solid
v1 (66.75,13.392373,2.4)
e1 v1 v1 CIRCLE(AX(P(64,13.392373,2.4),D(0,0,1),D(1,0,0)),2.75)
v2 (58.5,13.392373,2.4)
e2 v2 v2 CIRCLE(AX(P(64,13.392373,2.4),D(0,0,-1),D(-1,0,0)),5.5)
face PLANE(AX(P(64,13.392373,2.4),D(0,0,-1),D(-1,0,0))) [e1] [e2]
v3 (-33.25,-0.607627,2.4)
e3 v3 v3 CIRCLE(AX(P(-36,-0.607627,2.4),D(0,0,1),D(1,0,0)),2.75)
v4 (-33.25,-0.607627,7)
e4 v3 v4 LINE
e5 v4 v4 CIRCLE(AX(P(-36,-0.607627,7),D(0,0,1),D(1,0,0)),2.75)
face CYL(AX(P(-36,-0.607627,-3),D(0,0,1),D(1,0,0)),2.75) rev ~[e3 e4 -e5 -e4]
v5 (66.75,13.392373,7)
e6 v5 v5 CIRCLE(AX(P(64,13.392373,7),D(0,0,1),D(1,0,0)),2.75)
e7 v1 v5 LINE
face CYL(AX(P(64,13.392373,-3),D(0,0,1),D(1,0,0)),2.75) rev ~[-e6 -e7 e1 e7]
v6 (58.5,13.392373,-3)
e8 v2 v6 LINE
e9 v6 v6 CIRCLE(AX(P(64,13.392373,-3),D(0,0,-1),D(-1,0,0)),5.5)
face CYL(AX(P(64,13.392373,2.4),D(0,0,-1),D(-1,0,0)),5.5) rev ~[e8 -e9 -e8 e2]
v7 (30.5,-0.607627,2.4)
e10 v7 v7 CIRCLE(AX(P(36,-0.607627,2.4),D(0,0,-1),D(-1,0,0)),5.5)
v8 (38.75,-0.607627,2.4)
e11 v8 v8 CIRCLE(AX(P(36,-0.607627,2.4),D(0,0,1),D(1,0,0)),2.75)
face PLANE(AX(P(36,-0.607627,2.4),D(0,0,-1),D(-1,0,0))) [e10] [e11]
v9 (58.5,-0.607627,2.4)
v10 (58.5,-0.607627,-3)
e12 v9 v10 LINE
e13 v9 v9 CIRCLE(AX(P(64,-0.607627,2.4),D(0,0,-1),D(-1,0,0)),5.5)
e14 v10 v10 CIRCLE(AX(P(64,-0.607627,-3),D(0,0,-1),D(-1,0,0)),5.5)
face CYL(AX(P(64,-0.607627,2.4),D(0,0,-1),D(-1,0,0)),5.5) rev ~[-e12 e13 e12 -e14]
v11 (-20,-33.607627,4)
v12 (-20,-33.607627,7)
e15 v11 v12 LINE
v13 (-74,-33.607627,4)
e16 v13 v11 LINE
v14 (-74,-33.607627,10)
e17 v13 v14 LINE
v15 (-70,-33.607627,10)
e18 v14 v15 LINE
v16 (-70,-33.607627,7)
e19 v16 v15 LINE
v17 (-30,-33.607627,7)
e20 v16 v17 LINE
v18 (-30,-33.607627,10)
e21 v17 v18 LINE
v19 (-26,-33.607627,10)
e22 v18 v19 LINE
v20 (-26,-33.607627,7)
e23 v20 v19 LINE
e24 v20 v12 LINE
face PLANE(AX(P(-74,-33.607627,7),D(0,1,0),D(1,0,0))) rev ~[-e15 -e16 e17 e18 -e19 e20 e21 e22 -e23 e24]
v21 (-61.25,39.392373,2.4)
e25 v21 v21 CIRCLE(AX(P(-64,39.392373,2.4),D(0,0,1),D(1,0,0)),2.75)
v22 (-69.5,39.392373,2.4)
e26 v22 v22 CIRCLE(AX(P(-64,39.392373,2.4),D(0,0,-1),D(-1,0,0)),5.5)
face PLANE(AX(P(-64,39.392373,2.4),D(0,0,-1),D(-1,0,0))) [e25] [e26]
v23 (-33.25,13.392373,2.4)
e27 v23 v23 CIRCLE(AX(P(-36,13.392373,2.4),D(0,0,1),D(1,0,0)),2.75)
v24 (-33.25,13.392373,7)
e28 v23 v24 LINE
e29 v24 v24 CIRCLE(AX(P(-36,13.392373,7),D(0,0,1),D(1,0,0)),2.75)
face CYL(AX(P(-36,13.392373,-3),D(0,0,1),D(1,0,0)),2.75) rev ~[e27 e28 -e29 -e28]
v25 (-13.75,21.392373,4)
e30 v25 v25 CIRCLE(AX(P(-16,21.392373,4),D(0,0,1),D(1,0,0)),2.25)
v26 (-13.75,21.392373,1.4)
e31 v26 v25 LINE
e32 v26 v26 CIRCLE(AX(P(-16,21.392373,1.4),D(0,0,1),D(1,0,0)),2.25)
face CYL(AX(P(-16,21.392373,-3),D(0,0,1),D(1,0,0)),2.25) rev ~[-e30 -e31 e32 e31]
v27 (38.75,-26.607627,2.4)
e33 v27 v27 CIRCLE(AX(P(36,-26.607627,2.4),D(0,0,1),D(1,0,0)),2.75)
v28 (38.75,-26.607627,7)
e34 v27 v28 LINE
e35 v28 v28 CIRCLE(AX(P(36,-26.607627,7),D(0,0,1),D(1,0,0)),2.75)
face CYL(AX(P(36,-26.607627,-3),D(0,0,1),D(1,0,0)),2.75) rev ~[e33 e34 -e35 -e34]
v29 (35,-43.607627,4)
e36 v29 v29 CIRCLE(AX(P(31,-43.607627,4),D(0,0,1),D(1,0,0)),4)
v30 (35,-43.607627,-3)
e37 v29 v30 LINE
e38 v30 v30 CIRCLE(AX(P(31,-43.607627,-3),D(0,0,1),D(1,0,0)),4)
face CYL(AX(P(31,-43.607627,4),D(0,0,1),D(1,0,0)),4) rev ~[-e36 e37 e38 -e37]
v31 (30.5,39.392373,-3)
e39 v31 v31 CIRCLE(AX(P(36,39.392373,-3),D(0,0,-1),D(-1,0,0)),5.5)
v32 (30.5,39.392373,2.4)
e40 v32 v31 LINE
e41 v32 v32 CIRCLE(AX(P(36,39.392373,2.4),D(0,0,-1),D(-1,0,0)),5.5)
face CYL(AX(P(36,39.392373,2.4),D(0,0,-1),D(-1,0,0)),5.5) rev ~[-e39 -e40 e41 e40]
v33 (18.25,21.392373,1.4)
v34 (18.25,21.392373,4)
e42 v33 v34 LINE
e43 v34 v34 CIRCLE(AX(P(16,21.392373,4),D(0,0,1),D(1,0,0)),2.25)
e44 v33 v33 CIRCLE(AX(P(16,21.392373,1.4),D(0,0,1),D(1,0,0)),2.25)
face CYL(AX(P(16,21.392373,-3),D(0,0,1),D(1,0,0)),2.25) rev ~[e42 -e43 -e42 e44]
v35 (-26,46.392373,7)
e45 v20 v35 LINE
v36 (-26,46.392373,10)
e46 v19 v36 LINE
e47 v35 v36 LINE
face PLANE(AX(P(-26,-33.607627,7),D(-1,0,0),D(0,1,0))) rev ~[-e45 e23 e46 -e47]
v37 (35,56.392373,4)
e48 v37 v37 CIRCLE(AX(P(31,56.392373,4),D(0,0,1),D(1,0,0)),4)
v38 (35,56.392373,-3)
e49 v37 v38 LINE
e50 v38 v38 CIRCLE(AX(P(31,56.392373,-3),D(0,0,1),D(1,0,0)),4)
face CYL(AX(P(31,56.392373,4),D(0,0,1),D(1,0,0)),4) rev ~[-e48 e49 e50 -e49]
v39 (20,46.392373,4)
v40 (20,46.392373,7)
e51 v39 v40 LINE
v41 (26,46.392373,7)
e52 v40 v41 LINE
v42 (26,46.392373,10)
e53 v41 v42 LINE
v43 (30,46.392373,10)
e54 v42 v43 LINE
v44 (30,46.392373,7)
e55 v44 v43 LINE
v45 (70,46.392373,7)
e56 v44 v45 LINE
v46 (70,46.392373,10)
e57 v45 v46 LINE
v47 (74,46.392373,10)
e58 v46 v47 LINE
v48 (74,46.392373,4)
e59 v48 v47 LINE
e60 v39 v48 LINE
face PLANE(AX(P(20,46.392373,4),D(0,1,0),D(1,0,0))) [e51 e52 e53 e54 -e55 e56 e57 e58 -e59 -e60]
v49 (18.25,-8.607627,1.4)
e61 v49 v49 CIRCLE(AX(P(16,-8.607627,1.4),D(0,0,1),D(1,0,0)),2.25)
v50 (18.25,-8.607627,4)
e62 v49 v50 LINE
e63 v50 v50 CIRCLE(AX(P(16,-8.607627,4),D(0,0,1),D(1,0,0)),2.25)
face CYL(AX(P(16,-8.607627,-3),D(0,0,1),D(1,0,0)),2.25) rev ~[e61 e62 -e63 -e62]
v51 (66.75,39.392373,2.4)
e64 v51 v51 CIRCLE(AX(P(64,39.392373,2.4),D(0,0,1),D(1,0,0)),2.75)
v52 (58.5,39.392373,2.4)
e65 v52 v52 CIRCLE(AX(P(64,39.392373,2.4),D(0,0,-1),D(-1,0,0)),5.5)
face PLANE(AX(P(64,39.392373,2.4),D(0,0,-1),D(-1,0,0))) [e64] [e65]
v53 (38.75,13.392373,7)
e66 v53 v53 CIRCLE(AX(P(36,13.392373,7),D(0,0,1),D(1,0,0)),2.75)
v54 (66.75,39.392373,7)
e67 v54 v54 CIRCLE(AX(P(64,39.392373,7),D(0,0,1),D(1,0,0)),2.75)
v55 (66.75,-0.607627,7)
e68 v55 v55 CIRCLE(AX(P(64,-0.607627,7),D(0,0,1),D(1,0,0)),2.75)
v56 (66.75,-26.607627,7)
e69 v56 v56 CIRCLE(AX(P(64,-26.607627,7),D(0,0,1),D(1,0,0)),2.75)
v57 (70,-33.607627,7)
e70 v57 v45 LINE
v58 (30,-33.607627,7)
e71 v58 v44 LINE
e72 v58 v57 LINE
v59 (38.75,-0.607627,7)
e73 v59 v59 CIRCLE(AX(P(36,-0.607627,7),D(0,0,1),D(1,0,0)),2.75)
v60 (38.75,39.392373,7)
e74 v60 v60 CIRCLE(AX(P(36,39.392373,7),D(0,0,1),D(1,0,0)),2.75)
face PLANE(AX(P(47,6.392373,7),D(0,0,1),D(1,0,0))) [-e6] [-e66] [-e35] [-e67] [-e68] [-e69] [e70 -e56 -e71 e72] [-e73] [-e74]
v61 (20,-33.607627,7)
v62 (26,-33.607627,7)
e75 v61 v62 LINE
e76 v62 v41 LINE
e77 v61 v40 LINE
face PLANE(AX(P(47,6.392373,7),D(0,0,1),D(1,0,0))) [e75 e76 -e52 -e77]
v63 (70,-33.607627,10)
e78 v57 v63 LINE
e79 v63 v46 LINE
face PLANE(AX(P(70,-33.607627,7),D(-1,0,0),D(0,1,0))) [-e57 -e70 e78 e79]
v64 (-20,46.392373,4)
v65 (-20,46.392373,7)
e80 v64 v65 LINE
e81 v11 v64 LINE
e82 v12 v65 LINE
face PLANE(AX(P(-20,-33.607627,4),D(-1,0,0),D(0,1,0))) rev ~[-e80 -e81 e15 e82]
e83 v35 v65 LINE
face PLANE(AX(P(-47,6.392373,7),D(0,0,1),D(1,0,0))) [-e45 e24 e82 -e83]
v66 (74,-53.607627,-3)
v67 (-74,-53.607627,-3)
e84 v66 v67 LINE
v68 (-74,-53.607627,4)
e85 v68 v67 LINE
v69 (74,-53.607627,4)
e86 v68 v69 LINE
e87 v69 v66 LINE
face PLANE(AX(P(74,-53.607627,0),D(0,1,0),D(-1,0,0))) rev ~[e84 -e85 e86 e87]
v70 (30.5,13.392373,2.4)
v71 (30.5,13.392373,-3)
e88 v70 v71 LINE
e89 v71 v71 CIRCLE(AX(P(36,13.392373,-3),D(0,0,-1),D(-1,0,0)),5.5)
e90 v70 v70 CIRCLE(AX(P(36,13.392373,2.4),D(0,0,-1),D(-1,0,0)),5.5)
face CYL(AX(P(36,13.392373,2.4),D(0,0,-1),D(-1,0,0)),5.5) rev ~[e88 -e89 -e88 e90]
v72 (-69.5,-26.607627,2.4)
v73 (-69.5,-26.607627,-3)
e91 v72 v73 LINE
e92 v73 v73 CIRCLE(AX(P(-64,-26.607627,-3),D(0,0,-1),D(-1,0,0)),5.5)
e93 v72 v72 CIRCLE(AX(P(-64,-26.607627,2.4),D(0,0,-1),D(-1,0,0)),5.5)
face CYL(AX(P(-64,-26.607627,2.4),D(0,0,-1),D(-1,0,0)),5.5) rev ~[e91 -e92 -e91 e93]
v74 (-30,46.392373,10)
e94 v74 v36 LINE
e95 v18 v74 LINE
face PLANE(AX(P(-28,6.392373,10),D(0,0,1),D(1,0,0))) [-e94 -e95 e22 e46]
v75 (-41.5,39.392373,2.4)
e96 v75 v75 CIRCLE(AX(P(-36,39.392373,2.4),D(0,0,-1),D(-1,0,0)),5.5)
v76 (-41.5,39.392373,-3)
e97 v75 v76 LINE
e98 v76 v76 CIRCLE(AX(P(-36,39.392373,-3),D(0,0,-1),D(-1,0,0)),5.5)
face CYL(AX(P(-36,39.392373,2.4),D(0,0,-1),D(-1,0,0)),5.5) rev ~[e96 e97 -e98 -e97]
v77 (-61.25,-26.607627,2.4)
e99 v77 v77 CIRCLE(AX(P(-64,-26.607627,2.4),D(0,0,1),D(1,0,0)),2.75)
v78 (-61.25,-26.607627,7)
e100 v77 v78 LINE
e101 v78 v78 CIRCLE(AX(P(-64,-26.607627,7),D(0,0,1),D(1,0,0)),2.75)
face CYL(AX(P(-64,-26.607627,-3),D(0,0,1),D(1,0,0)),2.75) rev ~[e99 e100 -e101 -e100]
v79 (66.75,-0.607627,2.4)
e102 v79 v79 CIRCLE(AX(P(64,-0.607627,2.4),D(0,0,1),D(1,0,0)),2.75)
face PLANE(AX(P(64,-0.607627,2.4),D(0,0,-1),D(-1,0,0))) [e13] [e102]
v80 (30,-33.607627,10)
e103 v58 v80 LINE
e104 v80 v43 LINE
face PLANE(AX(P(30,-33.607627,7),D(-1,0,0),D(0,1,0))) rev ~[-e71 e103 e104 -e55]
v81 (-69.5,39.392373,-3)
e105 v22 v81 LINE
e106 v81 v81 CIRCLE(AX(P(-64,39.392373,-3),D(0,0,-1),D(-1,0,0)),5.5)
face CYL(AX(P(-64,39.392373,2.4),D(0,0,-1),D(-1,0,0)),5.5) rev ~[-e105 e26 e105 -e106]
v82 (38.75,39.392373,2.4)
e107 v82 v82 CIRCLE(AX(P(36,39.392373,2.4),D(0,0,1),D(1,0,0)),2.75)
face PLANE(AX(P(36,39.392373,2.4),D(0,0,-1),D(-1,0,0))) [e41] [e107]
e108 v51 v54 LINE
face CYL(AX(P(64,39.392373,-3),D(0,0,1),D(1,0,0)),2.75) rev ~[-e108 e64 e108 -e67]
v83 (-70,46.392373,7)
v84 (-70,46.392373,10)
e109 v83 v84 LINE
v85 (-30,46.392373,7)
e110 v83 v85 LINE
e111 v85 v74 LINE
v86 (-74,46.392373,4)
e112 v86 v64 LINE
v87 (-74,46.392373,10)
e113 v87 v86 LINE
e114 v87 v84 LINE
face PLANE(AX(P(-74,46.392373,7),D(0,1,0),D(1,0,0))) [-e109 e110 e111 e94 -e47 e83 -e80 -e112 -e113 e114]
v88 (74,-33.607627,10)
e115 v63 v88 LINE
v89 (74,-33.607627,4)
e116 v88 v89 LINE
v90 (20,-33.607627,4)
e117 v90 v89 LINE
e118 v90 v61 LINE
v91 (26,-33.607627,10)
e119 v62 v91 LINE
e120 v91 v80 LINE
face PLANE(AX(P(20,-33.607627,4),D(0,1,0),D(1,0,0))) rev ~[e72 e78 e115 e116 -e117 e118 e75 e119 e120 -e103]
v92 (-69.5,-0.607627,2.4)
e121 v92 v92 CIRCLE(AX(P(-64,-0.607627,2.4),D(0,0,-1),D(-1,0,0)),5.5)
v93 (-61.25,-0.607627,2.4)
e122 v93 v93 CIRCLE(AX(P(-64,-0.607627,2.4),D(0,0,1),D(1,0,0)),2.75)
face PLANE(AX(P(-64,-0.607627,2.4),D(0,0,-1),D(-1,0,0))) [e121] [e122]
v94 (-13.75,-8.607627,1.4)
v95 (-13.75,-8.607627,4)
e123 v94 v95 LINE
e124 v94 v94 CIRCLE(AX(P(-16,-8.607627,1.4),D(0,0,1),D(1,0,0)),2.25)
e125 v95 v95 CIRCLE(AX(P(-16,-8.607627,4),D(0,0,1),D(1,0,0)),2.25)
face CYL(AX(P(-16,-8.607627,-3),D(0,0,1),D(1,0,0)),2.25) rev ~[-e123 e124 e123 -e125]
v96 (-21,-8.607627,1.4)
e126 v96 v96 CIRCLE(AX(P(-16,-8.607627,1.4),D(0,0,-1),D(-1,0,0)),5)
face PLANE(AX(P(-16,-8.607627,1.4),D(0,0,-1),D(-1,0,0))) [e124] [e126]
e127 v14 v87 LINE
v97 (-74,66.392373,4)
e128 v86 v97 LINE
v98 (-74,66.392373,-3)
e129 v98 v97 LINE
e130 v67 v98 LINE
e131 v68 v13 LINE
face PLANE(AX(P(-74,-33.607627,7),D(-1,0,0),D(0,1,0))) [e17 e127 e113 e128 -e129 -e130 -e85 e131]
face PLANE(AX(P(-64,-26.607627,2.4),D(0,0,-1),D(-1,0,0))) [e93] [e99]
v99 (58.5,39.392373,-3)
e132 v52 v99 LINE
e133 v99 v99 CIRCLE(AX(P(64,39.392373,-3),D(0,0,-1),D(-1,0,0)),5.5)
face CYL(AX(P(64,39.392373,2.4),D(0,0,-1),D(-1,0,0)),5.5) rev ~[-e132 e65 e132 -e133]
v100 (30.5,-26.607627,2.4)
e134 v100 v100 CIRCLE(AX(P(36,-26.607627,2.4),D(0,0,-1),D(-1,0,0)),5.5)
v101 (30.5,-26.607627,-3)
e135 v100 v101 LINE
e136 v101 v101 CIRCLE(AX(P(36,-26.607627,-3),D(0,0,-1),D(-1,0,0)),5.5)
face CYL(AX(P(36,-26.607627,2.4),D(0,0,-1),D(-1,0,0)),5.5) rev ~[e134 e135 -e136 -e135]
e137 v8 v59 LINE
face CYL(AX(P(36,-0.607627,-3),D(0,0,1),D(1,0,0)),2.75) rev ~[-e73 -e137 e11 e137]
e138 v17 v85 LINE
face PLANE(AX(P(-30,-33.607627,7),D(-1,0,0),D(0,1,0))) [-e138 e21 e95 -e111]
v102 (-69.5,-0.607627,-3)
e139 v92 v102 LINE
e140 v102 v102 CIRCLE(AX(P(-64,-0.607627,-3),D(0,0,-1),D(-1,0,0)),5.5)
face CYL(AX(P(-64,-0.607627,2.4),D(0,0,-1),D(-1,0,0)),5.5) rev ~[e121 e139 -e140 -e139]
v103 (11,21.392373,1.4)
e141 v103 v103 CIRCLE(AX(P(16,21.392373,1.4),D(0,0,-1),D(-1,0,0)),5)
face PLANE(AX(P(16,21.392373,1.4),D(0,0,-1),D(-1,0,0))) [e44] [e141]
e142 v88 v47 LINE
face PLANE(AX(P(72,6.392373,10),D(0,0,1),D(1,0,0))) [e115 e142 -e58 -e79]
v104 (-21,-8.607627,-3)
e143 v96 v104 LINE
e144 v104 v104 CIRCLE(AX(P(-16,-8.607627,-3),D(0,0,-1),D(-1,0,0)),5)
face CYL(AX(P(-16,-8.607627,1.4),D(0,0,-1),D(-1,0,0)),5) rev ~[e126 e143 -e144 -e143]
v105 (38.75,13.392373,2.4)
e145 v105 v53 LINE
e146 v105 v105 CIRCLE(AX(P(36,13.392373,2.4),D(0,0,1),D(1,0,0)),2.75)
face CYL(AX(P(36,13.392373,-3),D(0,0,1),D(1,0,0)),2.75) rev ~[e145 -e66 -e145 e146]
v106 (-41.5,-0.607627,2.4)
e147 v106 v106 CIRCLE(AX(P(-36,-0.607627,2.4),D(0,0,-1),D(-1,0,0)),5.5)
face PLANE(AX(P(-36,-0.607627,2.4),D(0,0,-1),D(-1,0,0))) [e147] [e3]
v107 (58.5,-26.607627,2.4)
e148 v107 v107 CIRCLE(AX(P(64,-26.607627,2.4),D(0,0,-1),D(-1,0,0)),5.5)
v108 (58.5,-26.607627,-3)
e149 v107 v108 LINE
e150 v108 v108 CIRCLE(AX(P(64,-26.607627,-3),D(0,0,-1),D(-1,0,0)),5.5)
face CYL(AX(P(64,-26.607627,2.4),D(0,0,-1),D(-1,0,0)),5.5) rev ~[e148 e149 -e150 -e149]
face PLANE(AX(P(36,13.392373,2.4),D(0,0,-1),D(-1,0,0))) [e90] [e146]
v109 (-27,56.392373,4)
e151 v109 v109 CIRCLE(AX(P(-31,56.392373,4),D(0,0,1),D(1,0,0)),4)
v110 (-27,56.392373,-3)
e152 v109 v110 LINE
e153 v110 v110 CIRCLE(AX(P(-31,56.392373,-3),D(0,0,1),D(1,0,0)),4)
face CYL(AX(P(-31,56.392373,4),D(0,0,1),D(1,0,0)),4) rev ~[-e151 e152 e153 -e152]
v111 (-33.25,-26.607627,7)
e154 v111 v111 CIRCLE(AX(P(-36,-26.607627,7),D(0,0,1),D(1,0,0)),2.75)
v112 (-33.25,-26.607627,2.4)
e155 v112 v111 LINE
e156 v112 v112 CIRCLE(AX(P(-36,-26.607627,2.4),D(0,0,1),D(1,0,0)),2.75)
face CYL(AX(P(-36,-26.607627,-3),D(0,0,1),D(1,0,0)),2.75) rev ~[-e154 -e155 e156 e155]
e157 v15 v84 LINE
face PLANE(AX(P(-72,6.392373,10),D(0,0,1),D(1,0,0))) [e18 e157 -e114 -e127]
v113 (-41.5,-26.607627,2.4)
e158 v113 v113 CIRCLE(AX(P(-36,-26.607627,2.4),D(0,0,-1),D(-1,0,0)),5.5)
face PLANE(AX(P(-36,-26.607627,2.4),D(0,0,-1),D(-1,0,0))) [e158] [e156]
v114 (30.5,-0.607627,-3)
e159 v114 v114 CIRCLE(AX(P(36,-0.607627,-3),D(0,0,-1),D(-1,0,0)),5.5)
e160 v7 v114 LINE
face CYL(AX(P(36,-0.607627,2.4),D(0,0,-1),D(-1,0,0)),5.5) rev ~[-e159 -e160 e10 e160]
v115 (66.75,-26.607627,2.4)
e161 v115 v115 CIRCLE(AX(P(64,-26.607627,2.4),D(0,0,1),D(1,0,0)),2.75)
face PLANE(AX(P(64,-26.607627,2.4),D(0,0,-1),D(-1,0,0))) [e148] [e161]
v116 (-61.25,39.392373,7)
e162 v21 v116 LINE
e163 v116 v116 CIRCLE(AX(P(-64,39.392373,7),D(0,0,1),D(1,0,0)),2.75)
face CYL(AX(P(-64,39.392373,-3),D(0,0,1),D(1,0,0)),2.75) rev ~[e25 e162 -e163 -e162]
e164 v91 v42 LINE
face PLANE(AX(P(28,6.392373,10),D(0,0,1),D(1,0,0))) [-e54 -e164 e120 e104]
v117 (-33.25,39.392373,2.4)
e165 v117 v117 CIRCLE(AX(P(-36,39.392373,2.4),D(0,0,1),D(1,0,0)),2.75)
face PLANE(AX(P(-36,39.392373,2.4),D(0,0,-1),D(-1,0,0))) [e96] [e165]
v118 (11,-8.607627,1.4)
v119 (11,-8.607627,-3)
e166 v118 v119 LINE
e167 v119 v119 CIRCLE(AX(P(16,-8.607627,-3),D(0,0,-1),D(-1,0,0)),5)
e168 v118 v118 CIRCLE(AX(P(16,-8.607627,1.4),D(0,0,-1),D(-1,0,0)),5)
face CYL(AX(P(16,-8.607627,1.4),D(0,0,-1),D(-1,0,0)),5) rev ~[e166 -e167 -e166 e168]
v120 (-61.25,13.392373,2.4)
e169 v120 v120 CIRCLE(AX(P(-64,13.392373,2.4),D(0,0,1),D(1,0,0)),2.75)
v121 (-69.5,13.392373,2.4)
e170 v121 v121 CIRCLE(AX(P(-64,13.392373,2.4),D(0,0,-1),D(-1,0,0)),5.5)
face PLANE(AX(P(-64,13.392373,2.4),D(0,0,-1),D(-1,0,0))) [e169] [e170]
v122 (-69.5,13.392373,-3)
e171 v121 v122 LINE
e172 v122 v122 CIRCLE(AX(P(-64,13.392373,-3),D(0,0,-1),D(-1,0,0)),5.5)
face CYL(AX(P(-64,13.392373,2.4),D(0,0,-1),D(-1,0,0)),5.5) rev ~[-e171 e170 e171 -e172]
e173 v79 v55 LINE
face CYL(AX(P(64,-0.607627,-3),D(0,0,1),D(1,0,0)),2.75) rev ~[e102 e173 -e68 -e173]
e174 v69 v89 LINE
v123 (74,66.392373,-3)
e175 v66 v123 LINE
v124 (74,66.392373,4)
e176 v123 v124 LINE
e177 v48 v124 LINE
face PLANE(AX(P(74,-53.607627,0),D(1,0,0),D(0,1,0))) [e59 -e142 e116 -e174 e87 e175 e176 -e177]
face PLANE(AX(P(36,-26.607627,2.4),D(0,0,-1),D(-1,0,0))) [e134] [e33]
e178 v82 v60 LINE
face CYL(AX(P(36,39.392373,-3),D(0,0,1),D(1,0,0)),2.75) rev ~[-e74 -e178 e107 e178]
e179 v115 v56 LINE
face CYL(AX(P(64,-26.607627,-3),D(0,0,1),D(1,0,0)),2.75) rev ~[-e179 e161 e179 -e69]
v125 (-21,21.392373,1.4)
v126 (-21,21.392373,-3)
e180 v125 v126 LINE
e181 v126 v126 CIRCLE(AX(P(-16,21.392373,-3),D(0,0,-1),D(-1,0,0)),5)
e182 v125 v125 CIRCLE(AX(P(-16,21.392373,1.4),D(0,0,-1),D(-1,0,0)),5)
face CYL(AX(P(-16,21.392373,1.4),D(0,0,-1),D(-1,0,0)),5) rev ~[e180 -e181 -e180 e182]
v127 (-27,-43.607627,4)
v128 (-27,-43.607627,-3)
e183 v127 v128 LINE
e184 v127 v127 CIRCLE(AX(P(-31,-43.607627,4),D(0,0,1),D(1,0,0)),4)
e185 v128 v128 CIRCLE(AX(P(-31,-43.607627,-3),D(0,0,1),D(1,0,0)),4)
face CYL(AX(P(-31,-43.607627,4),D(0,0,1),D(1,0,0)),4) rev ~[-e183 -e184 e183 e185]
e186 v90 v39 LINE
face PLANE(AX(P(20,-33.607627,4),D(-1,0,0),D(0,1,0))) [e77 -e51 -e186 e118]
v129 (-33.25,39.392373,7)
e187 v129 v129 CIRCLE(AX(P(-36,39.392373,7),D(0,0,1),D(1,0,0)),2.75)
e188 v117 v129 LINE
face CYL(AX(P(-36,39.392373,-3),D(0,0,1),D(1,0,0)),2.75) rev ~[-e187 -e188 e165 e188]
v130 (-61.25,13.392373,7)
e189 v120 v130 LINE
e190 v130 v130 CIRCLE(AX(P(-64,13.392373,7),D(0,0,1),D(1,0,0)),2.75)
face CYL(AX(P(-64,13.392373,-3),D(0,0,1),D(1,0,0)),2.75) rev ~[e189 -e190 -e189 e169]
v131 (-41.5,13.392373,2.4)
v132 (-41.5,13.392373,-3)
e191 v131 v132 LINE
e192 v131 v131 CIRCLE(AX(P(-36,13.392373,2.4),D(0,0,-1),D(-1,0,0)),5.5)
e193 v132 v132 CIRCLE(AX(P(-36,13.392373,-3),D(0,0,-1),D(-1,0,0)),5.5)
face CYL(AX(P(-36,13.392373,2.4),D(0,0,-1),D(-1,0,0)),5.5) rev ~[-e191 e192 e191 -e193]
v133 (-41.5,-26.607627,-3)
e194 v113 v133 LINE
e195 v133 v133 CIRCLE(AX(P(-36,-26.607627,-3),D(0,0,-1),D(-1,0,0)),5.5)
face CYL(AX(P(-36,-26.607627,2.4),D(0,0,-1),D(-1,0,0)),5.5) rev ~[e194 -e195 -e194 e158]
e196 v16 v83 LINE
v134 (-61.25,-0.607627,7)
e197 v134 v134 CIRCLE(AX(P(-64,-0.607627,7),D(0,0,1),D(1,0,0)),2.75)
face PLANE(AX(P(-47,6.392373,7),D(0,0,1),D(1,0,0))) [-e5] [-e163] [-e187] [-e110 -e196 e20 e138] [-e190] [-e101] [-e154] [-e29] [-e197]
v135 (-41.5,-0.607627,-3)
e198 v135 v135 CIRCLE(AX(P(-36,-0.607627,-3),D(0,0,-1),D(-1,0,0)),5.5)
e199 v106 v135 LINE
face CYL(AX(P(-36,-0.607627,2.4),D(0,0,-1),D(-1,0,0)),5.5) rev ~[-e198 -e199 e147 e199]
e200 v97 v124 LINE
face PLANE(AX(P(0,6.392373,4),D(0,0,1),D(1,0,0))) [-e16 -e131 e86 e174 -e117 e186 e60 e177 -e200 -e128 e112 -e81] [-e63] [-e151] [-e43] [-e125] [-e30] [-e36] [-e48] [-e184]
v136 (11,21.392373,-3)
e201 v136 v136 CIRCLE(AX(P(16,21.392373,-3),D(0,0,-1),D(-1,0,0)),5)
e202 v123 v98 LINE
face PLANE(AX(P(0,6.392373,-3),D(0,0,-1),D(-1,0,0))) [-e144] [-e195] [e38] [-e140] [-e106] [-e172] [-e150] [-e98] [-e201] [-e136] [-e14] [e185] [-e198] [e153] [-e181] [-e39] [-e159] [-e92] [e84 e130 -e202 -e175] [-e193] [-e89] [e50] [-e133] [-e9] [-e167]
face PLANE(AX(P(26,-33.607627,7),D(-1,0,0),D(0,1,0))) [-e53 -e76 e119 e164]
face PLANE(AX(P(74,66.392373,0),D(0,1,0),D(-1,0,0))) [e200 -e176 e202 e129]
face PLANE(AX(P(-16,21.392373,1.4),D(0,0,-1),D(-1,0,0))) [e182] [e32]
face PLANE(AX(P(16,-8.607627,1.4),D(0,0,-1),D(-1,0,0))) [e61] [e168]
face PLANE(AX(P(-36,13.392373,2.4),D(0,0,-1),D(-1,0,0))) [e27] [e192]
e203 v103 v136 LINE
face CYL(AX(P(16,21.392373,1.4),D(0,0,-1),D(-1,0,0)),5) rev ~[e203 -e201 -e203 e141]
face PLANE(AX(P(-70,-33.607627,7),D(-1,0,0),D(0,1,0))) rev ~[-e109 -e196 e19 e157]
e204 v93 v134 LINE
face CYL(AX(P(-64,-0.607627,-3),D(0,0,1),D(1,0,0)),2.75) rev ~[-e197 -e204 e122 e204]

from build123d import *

# Parameters (mm, degrees)
ESQUISSE1_W                                        = 148
ESQUISSE1_H                                        = 120
ESQUISSE1_R                                        = 2.5
ESQUISSE1_R_2                                      = 2
EXTRUSION1_DEPTH                                   = 4
ESQUISSE4_W                                        = 54
ESQUISSE4_H                                        = 80
BOSS_EXTRU_1_DEPTH                                 = 3
ESQUISSE6_W                                        = 148
ESQUISSE6_H                                        = 120
BOSS_EXTRU_2_DEPTH                                 = 3
CHAMBRAGE_POUR_VIS_T_TE_HEXAGONALE_M41_D           = 4.5
CHAMBRAGE_POUR_VIS_T_TE_HEXAGONALE_M41_CBORE_D     = 10
CHAMBRAGE_POUR_VIS_T_TE_HEXAGONALE_M41_CBORE_DEPTH = 4.4
CHAMBRAGE_POUR_VIS_T_TE_HEXAGONALE_M51_D           = 5.5
CHAMBRAGE_POUR_VIS_T_TE_HEXAGONALE_M51_CBORE_D     = 11
CHAMBRAGE_POUR_VIS_T_TE_HEXAGONALE_M51_CBORE_DEPTH = 5.4
ESQUISSE11_W                                       = 4
ESQUISSE11_H                                       = 80
BOSS_EXTRU_3_DEPTH                                 = 3
ESQUISSE3_R                                        = 4
ENL_V_MAT_EXTRU_2_DEPTH                            = 8


with BuildPart() as part:
    # Esquisse1 → Extrusion1 (new body)
    with BuildSketch(Plane.XY):
        with Locations((0, 6.392373056)):
            Rectangle(ESQUISSE1_W, ESQUISSE1_H)
        with Locations((-64, -0.607626944)):
            Circle(ESQUISSE1_R, mode=Mode.SUBTRACT)
        with Locations((-36, -0.607626944)):
            Circle(ESQUISSE1_R, mode=Mode.SUBTRACT)
        with Locations((-64, -26.607626944)):
            Circle(ESQUISSE1_R, mode=Mode.SUBTRACT)
        with Locations((-36, -26.607626944)):
            Circle(ESQUISSE1_R, mode=Mode.SUBTRACT)
        with Locations((36, -0.607626944)):
            Circle(ESQUISSE1_R, mode=Mode.SUBTRACT)
        with Locations((64, -0.607626944)):
            Circle(ESQUISSE1_R, mode=Mode.SUBTRACT)
        with Locations((36, -26.607626944)):
            Circle(ESQUISSE1_R, mode=Mode.SUBTRACT)
        with Locations((64, -26.607626944)):
            Circle(ESQUISSE1_R, mode=Mode.SUBTRACT)
        with Locations((64, 39.392373056)):
            Circle(ESQUISSE1_R, mode=Mode.SUBTRACT)
        with Locations((36, 39.392373056)):
            Circle(ESQUISSE1_R, mode=Mode.SUBTRACT)
        with Locations((16, 21.392373056)):
            Circle(ESQUISSE1_R_2, mode=Mode.SUBTRACT)
        with Locations((16, -8.607626944)):
            Circle(ESQUISSE1_R_2, mode=Mode.SUBTRACT)
        with Locations((-16, 21.392373056)):
            Circle(ESQUISSE1_R_2, mode=Mode.SUBTRACT)
        with Locations((-16, -8.607626944)):
            Circle(ESQUISSE1_R_2, mode=Mode.SUBTRACT)
        with Locations((64, 13.392373056)):
            Circle(ESQUISSE1_R, mode=Mode.SUBTRACT)
        with Locations((36, 13.392373056)):
            Circle(ESQUISSE1_R, mode=Mode.SUBTRACT)
        with Locations((-36, 39.392373056)):
            Circle(ESQUISSE1_R, mode=Mode.SUBTRACT)
        with Locations((-64, 39.392373056)):
            Circle(ESQUISSE1_R, mode=Mode.SUBTRACT)
        with Locations((-36, 13.392373056)):
            Circle(ESQUISSE1_R, mode=Mode.SUBTRACT)
        with Locations((-64, 13.392373056)):
            Circle(ESQUISSE1_R, mode=Mode.SUBTRACT)
    extrude(amount=EXTRUSION1_DEPTH)

    # Esquisse4 → Boss.-Extru.1 (add)
    with BuildSketch(Plane.XY.offset(4)):
        with Locations((-47, 6.392373056)):
            Rectangle(ESQUISSE4_W, ESQUISSE4_H)
        with Locations((47, 6.392373056)):
            Rectangle(ESQUISSE4_W, ESQUISSE4_H)
    extrude(amount=BOSS_EXTRU_1_DEPTH)

    # Esquisse6 → Boss.-Extru.2 (add)
    with BuildSketch(Plane(origin=(0, 0, 0), x_dir=(-1, 0, 0), z_dir=(0, 0, -1))):
        with Locations((0, 6.392373056)):
            Rectangle(ESQUISSE6_W, ESQUISSE6_H)
    extrude(amount=BOSS_EXTRU_2_DEPTH)

    # Chambrage pour vis à tête hexagonale M41 (through all)
    with Locations(Plane(origin=(0, 0, -3), x_dir=(-1, 0, 0), z_dir=(0, 0, -1))):
        with Locations((-16, 21.392373056), (16, 21.392373056), (16, -8.607626944), (-16, -8.607626944)):
            CounterBoreHole(CHAMBRAGE_POUR_VIS_T_TE_HEXAGONALE_M41_D / 2, CHAMBRAGE_POUR_VIS_T_TE_HEXAGONALE_M41_CBORE_D / 2, CHAMBRAGE_POUR_VIS_T_TE_HEXAGONALE_M41_CBORE_DEPTH)

    # Chambrage pour vis à tête hexagonale M51 (through all)
    with Locations(Plane(origin=(0, 0, -3), x_dir=(-1, 0, 0), z_dir=(0, 0, -1))):
        with Locations((-64, -0.607626944), (-36, -0.607626944), (-36, -26.607626944), (-64, -26.607626944), (36, -0.607626944), (64, -0.607626944), (64, -26.607626944), (36, -26.607626944), (64, 39.392373056), (64, 13.392373056), (36, 39.392373056), (36, 13.392373056), (-36, 39.392373056), (-64, 39.392373056), (-64, 13.392373056), (-36, 13.392373056)):
            CounterBoreHole(CHAMBRAGE_POUR_VIS_T_TE_HEXAGONALE_M51_D / 2, CHAMBRAGE_POUR_VIS_T_TE_HEXAGONALE_M51_CBORE_D / 2, CHAMBRAGE_POUR_VIS_T_TE_HEXAGONALE_M51_CBORE_DEPTH)

    # Esquisse11 → Boss.-Extru.3 (add)
    with BuildSketch(Plane.XY.offset(7)):
        with Locations((-28, 6.392373056)):
            Rectangle(ESQUISSE11_W, ESQUISSE11_H)
        with Locations((28, 6.392373056)):
            Rectangle(ESQUISSE11_W, ESQUISSE11_H)
        with Locations((-72, 6.392373056)):
            Rectangle(ESQUISSE11_W, ESQUISSE11_H)
        with Locations((72, 6.392373056)):
            Rectangle(ESQUISSE11_W, ESQUISSE11_H)
    extrude(amount=BOSS_EXTRU_3_DEPTH)

    # Esquisse3 → Enlèv. mat.-Extru.2 (cut, through all)
    with BuildSketch(Plane.XY.offset(4)):
        with Locations((-31, 56.392373056)):
            Circle(ESQUISSE3_R)
        with Locations((31, 56.392373056)):
            Circle(ESQUISSE3_R)
        with Locations((-31, -43.607626944)):
            Circle(ESQUISSE3_R)
        with Locations((31, -43.607626944)):
            Circle(ESQUISSE3_R)
    extrude(amount=-ENL_V_MAT_EXTRU_2_DEPTH, mode=Mode.SUBTRACT)


solid = part.part
